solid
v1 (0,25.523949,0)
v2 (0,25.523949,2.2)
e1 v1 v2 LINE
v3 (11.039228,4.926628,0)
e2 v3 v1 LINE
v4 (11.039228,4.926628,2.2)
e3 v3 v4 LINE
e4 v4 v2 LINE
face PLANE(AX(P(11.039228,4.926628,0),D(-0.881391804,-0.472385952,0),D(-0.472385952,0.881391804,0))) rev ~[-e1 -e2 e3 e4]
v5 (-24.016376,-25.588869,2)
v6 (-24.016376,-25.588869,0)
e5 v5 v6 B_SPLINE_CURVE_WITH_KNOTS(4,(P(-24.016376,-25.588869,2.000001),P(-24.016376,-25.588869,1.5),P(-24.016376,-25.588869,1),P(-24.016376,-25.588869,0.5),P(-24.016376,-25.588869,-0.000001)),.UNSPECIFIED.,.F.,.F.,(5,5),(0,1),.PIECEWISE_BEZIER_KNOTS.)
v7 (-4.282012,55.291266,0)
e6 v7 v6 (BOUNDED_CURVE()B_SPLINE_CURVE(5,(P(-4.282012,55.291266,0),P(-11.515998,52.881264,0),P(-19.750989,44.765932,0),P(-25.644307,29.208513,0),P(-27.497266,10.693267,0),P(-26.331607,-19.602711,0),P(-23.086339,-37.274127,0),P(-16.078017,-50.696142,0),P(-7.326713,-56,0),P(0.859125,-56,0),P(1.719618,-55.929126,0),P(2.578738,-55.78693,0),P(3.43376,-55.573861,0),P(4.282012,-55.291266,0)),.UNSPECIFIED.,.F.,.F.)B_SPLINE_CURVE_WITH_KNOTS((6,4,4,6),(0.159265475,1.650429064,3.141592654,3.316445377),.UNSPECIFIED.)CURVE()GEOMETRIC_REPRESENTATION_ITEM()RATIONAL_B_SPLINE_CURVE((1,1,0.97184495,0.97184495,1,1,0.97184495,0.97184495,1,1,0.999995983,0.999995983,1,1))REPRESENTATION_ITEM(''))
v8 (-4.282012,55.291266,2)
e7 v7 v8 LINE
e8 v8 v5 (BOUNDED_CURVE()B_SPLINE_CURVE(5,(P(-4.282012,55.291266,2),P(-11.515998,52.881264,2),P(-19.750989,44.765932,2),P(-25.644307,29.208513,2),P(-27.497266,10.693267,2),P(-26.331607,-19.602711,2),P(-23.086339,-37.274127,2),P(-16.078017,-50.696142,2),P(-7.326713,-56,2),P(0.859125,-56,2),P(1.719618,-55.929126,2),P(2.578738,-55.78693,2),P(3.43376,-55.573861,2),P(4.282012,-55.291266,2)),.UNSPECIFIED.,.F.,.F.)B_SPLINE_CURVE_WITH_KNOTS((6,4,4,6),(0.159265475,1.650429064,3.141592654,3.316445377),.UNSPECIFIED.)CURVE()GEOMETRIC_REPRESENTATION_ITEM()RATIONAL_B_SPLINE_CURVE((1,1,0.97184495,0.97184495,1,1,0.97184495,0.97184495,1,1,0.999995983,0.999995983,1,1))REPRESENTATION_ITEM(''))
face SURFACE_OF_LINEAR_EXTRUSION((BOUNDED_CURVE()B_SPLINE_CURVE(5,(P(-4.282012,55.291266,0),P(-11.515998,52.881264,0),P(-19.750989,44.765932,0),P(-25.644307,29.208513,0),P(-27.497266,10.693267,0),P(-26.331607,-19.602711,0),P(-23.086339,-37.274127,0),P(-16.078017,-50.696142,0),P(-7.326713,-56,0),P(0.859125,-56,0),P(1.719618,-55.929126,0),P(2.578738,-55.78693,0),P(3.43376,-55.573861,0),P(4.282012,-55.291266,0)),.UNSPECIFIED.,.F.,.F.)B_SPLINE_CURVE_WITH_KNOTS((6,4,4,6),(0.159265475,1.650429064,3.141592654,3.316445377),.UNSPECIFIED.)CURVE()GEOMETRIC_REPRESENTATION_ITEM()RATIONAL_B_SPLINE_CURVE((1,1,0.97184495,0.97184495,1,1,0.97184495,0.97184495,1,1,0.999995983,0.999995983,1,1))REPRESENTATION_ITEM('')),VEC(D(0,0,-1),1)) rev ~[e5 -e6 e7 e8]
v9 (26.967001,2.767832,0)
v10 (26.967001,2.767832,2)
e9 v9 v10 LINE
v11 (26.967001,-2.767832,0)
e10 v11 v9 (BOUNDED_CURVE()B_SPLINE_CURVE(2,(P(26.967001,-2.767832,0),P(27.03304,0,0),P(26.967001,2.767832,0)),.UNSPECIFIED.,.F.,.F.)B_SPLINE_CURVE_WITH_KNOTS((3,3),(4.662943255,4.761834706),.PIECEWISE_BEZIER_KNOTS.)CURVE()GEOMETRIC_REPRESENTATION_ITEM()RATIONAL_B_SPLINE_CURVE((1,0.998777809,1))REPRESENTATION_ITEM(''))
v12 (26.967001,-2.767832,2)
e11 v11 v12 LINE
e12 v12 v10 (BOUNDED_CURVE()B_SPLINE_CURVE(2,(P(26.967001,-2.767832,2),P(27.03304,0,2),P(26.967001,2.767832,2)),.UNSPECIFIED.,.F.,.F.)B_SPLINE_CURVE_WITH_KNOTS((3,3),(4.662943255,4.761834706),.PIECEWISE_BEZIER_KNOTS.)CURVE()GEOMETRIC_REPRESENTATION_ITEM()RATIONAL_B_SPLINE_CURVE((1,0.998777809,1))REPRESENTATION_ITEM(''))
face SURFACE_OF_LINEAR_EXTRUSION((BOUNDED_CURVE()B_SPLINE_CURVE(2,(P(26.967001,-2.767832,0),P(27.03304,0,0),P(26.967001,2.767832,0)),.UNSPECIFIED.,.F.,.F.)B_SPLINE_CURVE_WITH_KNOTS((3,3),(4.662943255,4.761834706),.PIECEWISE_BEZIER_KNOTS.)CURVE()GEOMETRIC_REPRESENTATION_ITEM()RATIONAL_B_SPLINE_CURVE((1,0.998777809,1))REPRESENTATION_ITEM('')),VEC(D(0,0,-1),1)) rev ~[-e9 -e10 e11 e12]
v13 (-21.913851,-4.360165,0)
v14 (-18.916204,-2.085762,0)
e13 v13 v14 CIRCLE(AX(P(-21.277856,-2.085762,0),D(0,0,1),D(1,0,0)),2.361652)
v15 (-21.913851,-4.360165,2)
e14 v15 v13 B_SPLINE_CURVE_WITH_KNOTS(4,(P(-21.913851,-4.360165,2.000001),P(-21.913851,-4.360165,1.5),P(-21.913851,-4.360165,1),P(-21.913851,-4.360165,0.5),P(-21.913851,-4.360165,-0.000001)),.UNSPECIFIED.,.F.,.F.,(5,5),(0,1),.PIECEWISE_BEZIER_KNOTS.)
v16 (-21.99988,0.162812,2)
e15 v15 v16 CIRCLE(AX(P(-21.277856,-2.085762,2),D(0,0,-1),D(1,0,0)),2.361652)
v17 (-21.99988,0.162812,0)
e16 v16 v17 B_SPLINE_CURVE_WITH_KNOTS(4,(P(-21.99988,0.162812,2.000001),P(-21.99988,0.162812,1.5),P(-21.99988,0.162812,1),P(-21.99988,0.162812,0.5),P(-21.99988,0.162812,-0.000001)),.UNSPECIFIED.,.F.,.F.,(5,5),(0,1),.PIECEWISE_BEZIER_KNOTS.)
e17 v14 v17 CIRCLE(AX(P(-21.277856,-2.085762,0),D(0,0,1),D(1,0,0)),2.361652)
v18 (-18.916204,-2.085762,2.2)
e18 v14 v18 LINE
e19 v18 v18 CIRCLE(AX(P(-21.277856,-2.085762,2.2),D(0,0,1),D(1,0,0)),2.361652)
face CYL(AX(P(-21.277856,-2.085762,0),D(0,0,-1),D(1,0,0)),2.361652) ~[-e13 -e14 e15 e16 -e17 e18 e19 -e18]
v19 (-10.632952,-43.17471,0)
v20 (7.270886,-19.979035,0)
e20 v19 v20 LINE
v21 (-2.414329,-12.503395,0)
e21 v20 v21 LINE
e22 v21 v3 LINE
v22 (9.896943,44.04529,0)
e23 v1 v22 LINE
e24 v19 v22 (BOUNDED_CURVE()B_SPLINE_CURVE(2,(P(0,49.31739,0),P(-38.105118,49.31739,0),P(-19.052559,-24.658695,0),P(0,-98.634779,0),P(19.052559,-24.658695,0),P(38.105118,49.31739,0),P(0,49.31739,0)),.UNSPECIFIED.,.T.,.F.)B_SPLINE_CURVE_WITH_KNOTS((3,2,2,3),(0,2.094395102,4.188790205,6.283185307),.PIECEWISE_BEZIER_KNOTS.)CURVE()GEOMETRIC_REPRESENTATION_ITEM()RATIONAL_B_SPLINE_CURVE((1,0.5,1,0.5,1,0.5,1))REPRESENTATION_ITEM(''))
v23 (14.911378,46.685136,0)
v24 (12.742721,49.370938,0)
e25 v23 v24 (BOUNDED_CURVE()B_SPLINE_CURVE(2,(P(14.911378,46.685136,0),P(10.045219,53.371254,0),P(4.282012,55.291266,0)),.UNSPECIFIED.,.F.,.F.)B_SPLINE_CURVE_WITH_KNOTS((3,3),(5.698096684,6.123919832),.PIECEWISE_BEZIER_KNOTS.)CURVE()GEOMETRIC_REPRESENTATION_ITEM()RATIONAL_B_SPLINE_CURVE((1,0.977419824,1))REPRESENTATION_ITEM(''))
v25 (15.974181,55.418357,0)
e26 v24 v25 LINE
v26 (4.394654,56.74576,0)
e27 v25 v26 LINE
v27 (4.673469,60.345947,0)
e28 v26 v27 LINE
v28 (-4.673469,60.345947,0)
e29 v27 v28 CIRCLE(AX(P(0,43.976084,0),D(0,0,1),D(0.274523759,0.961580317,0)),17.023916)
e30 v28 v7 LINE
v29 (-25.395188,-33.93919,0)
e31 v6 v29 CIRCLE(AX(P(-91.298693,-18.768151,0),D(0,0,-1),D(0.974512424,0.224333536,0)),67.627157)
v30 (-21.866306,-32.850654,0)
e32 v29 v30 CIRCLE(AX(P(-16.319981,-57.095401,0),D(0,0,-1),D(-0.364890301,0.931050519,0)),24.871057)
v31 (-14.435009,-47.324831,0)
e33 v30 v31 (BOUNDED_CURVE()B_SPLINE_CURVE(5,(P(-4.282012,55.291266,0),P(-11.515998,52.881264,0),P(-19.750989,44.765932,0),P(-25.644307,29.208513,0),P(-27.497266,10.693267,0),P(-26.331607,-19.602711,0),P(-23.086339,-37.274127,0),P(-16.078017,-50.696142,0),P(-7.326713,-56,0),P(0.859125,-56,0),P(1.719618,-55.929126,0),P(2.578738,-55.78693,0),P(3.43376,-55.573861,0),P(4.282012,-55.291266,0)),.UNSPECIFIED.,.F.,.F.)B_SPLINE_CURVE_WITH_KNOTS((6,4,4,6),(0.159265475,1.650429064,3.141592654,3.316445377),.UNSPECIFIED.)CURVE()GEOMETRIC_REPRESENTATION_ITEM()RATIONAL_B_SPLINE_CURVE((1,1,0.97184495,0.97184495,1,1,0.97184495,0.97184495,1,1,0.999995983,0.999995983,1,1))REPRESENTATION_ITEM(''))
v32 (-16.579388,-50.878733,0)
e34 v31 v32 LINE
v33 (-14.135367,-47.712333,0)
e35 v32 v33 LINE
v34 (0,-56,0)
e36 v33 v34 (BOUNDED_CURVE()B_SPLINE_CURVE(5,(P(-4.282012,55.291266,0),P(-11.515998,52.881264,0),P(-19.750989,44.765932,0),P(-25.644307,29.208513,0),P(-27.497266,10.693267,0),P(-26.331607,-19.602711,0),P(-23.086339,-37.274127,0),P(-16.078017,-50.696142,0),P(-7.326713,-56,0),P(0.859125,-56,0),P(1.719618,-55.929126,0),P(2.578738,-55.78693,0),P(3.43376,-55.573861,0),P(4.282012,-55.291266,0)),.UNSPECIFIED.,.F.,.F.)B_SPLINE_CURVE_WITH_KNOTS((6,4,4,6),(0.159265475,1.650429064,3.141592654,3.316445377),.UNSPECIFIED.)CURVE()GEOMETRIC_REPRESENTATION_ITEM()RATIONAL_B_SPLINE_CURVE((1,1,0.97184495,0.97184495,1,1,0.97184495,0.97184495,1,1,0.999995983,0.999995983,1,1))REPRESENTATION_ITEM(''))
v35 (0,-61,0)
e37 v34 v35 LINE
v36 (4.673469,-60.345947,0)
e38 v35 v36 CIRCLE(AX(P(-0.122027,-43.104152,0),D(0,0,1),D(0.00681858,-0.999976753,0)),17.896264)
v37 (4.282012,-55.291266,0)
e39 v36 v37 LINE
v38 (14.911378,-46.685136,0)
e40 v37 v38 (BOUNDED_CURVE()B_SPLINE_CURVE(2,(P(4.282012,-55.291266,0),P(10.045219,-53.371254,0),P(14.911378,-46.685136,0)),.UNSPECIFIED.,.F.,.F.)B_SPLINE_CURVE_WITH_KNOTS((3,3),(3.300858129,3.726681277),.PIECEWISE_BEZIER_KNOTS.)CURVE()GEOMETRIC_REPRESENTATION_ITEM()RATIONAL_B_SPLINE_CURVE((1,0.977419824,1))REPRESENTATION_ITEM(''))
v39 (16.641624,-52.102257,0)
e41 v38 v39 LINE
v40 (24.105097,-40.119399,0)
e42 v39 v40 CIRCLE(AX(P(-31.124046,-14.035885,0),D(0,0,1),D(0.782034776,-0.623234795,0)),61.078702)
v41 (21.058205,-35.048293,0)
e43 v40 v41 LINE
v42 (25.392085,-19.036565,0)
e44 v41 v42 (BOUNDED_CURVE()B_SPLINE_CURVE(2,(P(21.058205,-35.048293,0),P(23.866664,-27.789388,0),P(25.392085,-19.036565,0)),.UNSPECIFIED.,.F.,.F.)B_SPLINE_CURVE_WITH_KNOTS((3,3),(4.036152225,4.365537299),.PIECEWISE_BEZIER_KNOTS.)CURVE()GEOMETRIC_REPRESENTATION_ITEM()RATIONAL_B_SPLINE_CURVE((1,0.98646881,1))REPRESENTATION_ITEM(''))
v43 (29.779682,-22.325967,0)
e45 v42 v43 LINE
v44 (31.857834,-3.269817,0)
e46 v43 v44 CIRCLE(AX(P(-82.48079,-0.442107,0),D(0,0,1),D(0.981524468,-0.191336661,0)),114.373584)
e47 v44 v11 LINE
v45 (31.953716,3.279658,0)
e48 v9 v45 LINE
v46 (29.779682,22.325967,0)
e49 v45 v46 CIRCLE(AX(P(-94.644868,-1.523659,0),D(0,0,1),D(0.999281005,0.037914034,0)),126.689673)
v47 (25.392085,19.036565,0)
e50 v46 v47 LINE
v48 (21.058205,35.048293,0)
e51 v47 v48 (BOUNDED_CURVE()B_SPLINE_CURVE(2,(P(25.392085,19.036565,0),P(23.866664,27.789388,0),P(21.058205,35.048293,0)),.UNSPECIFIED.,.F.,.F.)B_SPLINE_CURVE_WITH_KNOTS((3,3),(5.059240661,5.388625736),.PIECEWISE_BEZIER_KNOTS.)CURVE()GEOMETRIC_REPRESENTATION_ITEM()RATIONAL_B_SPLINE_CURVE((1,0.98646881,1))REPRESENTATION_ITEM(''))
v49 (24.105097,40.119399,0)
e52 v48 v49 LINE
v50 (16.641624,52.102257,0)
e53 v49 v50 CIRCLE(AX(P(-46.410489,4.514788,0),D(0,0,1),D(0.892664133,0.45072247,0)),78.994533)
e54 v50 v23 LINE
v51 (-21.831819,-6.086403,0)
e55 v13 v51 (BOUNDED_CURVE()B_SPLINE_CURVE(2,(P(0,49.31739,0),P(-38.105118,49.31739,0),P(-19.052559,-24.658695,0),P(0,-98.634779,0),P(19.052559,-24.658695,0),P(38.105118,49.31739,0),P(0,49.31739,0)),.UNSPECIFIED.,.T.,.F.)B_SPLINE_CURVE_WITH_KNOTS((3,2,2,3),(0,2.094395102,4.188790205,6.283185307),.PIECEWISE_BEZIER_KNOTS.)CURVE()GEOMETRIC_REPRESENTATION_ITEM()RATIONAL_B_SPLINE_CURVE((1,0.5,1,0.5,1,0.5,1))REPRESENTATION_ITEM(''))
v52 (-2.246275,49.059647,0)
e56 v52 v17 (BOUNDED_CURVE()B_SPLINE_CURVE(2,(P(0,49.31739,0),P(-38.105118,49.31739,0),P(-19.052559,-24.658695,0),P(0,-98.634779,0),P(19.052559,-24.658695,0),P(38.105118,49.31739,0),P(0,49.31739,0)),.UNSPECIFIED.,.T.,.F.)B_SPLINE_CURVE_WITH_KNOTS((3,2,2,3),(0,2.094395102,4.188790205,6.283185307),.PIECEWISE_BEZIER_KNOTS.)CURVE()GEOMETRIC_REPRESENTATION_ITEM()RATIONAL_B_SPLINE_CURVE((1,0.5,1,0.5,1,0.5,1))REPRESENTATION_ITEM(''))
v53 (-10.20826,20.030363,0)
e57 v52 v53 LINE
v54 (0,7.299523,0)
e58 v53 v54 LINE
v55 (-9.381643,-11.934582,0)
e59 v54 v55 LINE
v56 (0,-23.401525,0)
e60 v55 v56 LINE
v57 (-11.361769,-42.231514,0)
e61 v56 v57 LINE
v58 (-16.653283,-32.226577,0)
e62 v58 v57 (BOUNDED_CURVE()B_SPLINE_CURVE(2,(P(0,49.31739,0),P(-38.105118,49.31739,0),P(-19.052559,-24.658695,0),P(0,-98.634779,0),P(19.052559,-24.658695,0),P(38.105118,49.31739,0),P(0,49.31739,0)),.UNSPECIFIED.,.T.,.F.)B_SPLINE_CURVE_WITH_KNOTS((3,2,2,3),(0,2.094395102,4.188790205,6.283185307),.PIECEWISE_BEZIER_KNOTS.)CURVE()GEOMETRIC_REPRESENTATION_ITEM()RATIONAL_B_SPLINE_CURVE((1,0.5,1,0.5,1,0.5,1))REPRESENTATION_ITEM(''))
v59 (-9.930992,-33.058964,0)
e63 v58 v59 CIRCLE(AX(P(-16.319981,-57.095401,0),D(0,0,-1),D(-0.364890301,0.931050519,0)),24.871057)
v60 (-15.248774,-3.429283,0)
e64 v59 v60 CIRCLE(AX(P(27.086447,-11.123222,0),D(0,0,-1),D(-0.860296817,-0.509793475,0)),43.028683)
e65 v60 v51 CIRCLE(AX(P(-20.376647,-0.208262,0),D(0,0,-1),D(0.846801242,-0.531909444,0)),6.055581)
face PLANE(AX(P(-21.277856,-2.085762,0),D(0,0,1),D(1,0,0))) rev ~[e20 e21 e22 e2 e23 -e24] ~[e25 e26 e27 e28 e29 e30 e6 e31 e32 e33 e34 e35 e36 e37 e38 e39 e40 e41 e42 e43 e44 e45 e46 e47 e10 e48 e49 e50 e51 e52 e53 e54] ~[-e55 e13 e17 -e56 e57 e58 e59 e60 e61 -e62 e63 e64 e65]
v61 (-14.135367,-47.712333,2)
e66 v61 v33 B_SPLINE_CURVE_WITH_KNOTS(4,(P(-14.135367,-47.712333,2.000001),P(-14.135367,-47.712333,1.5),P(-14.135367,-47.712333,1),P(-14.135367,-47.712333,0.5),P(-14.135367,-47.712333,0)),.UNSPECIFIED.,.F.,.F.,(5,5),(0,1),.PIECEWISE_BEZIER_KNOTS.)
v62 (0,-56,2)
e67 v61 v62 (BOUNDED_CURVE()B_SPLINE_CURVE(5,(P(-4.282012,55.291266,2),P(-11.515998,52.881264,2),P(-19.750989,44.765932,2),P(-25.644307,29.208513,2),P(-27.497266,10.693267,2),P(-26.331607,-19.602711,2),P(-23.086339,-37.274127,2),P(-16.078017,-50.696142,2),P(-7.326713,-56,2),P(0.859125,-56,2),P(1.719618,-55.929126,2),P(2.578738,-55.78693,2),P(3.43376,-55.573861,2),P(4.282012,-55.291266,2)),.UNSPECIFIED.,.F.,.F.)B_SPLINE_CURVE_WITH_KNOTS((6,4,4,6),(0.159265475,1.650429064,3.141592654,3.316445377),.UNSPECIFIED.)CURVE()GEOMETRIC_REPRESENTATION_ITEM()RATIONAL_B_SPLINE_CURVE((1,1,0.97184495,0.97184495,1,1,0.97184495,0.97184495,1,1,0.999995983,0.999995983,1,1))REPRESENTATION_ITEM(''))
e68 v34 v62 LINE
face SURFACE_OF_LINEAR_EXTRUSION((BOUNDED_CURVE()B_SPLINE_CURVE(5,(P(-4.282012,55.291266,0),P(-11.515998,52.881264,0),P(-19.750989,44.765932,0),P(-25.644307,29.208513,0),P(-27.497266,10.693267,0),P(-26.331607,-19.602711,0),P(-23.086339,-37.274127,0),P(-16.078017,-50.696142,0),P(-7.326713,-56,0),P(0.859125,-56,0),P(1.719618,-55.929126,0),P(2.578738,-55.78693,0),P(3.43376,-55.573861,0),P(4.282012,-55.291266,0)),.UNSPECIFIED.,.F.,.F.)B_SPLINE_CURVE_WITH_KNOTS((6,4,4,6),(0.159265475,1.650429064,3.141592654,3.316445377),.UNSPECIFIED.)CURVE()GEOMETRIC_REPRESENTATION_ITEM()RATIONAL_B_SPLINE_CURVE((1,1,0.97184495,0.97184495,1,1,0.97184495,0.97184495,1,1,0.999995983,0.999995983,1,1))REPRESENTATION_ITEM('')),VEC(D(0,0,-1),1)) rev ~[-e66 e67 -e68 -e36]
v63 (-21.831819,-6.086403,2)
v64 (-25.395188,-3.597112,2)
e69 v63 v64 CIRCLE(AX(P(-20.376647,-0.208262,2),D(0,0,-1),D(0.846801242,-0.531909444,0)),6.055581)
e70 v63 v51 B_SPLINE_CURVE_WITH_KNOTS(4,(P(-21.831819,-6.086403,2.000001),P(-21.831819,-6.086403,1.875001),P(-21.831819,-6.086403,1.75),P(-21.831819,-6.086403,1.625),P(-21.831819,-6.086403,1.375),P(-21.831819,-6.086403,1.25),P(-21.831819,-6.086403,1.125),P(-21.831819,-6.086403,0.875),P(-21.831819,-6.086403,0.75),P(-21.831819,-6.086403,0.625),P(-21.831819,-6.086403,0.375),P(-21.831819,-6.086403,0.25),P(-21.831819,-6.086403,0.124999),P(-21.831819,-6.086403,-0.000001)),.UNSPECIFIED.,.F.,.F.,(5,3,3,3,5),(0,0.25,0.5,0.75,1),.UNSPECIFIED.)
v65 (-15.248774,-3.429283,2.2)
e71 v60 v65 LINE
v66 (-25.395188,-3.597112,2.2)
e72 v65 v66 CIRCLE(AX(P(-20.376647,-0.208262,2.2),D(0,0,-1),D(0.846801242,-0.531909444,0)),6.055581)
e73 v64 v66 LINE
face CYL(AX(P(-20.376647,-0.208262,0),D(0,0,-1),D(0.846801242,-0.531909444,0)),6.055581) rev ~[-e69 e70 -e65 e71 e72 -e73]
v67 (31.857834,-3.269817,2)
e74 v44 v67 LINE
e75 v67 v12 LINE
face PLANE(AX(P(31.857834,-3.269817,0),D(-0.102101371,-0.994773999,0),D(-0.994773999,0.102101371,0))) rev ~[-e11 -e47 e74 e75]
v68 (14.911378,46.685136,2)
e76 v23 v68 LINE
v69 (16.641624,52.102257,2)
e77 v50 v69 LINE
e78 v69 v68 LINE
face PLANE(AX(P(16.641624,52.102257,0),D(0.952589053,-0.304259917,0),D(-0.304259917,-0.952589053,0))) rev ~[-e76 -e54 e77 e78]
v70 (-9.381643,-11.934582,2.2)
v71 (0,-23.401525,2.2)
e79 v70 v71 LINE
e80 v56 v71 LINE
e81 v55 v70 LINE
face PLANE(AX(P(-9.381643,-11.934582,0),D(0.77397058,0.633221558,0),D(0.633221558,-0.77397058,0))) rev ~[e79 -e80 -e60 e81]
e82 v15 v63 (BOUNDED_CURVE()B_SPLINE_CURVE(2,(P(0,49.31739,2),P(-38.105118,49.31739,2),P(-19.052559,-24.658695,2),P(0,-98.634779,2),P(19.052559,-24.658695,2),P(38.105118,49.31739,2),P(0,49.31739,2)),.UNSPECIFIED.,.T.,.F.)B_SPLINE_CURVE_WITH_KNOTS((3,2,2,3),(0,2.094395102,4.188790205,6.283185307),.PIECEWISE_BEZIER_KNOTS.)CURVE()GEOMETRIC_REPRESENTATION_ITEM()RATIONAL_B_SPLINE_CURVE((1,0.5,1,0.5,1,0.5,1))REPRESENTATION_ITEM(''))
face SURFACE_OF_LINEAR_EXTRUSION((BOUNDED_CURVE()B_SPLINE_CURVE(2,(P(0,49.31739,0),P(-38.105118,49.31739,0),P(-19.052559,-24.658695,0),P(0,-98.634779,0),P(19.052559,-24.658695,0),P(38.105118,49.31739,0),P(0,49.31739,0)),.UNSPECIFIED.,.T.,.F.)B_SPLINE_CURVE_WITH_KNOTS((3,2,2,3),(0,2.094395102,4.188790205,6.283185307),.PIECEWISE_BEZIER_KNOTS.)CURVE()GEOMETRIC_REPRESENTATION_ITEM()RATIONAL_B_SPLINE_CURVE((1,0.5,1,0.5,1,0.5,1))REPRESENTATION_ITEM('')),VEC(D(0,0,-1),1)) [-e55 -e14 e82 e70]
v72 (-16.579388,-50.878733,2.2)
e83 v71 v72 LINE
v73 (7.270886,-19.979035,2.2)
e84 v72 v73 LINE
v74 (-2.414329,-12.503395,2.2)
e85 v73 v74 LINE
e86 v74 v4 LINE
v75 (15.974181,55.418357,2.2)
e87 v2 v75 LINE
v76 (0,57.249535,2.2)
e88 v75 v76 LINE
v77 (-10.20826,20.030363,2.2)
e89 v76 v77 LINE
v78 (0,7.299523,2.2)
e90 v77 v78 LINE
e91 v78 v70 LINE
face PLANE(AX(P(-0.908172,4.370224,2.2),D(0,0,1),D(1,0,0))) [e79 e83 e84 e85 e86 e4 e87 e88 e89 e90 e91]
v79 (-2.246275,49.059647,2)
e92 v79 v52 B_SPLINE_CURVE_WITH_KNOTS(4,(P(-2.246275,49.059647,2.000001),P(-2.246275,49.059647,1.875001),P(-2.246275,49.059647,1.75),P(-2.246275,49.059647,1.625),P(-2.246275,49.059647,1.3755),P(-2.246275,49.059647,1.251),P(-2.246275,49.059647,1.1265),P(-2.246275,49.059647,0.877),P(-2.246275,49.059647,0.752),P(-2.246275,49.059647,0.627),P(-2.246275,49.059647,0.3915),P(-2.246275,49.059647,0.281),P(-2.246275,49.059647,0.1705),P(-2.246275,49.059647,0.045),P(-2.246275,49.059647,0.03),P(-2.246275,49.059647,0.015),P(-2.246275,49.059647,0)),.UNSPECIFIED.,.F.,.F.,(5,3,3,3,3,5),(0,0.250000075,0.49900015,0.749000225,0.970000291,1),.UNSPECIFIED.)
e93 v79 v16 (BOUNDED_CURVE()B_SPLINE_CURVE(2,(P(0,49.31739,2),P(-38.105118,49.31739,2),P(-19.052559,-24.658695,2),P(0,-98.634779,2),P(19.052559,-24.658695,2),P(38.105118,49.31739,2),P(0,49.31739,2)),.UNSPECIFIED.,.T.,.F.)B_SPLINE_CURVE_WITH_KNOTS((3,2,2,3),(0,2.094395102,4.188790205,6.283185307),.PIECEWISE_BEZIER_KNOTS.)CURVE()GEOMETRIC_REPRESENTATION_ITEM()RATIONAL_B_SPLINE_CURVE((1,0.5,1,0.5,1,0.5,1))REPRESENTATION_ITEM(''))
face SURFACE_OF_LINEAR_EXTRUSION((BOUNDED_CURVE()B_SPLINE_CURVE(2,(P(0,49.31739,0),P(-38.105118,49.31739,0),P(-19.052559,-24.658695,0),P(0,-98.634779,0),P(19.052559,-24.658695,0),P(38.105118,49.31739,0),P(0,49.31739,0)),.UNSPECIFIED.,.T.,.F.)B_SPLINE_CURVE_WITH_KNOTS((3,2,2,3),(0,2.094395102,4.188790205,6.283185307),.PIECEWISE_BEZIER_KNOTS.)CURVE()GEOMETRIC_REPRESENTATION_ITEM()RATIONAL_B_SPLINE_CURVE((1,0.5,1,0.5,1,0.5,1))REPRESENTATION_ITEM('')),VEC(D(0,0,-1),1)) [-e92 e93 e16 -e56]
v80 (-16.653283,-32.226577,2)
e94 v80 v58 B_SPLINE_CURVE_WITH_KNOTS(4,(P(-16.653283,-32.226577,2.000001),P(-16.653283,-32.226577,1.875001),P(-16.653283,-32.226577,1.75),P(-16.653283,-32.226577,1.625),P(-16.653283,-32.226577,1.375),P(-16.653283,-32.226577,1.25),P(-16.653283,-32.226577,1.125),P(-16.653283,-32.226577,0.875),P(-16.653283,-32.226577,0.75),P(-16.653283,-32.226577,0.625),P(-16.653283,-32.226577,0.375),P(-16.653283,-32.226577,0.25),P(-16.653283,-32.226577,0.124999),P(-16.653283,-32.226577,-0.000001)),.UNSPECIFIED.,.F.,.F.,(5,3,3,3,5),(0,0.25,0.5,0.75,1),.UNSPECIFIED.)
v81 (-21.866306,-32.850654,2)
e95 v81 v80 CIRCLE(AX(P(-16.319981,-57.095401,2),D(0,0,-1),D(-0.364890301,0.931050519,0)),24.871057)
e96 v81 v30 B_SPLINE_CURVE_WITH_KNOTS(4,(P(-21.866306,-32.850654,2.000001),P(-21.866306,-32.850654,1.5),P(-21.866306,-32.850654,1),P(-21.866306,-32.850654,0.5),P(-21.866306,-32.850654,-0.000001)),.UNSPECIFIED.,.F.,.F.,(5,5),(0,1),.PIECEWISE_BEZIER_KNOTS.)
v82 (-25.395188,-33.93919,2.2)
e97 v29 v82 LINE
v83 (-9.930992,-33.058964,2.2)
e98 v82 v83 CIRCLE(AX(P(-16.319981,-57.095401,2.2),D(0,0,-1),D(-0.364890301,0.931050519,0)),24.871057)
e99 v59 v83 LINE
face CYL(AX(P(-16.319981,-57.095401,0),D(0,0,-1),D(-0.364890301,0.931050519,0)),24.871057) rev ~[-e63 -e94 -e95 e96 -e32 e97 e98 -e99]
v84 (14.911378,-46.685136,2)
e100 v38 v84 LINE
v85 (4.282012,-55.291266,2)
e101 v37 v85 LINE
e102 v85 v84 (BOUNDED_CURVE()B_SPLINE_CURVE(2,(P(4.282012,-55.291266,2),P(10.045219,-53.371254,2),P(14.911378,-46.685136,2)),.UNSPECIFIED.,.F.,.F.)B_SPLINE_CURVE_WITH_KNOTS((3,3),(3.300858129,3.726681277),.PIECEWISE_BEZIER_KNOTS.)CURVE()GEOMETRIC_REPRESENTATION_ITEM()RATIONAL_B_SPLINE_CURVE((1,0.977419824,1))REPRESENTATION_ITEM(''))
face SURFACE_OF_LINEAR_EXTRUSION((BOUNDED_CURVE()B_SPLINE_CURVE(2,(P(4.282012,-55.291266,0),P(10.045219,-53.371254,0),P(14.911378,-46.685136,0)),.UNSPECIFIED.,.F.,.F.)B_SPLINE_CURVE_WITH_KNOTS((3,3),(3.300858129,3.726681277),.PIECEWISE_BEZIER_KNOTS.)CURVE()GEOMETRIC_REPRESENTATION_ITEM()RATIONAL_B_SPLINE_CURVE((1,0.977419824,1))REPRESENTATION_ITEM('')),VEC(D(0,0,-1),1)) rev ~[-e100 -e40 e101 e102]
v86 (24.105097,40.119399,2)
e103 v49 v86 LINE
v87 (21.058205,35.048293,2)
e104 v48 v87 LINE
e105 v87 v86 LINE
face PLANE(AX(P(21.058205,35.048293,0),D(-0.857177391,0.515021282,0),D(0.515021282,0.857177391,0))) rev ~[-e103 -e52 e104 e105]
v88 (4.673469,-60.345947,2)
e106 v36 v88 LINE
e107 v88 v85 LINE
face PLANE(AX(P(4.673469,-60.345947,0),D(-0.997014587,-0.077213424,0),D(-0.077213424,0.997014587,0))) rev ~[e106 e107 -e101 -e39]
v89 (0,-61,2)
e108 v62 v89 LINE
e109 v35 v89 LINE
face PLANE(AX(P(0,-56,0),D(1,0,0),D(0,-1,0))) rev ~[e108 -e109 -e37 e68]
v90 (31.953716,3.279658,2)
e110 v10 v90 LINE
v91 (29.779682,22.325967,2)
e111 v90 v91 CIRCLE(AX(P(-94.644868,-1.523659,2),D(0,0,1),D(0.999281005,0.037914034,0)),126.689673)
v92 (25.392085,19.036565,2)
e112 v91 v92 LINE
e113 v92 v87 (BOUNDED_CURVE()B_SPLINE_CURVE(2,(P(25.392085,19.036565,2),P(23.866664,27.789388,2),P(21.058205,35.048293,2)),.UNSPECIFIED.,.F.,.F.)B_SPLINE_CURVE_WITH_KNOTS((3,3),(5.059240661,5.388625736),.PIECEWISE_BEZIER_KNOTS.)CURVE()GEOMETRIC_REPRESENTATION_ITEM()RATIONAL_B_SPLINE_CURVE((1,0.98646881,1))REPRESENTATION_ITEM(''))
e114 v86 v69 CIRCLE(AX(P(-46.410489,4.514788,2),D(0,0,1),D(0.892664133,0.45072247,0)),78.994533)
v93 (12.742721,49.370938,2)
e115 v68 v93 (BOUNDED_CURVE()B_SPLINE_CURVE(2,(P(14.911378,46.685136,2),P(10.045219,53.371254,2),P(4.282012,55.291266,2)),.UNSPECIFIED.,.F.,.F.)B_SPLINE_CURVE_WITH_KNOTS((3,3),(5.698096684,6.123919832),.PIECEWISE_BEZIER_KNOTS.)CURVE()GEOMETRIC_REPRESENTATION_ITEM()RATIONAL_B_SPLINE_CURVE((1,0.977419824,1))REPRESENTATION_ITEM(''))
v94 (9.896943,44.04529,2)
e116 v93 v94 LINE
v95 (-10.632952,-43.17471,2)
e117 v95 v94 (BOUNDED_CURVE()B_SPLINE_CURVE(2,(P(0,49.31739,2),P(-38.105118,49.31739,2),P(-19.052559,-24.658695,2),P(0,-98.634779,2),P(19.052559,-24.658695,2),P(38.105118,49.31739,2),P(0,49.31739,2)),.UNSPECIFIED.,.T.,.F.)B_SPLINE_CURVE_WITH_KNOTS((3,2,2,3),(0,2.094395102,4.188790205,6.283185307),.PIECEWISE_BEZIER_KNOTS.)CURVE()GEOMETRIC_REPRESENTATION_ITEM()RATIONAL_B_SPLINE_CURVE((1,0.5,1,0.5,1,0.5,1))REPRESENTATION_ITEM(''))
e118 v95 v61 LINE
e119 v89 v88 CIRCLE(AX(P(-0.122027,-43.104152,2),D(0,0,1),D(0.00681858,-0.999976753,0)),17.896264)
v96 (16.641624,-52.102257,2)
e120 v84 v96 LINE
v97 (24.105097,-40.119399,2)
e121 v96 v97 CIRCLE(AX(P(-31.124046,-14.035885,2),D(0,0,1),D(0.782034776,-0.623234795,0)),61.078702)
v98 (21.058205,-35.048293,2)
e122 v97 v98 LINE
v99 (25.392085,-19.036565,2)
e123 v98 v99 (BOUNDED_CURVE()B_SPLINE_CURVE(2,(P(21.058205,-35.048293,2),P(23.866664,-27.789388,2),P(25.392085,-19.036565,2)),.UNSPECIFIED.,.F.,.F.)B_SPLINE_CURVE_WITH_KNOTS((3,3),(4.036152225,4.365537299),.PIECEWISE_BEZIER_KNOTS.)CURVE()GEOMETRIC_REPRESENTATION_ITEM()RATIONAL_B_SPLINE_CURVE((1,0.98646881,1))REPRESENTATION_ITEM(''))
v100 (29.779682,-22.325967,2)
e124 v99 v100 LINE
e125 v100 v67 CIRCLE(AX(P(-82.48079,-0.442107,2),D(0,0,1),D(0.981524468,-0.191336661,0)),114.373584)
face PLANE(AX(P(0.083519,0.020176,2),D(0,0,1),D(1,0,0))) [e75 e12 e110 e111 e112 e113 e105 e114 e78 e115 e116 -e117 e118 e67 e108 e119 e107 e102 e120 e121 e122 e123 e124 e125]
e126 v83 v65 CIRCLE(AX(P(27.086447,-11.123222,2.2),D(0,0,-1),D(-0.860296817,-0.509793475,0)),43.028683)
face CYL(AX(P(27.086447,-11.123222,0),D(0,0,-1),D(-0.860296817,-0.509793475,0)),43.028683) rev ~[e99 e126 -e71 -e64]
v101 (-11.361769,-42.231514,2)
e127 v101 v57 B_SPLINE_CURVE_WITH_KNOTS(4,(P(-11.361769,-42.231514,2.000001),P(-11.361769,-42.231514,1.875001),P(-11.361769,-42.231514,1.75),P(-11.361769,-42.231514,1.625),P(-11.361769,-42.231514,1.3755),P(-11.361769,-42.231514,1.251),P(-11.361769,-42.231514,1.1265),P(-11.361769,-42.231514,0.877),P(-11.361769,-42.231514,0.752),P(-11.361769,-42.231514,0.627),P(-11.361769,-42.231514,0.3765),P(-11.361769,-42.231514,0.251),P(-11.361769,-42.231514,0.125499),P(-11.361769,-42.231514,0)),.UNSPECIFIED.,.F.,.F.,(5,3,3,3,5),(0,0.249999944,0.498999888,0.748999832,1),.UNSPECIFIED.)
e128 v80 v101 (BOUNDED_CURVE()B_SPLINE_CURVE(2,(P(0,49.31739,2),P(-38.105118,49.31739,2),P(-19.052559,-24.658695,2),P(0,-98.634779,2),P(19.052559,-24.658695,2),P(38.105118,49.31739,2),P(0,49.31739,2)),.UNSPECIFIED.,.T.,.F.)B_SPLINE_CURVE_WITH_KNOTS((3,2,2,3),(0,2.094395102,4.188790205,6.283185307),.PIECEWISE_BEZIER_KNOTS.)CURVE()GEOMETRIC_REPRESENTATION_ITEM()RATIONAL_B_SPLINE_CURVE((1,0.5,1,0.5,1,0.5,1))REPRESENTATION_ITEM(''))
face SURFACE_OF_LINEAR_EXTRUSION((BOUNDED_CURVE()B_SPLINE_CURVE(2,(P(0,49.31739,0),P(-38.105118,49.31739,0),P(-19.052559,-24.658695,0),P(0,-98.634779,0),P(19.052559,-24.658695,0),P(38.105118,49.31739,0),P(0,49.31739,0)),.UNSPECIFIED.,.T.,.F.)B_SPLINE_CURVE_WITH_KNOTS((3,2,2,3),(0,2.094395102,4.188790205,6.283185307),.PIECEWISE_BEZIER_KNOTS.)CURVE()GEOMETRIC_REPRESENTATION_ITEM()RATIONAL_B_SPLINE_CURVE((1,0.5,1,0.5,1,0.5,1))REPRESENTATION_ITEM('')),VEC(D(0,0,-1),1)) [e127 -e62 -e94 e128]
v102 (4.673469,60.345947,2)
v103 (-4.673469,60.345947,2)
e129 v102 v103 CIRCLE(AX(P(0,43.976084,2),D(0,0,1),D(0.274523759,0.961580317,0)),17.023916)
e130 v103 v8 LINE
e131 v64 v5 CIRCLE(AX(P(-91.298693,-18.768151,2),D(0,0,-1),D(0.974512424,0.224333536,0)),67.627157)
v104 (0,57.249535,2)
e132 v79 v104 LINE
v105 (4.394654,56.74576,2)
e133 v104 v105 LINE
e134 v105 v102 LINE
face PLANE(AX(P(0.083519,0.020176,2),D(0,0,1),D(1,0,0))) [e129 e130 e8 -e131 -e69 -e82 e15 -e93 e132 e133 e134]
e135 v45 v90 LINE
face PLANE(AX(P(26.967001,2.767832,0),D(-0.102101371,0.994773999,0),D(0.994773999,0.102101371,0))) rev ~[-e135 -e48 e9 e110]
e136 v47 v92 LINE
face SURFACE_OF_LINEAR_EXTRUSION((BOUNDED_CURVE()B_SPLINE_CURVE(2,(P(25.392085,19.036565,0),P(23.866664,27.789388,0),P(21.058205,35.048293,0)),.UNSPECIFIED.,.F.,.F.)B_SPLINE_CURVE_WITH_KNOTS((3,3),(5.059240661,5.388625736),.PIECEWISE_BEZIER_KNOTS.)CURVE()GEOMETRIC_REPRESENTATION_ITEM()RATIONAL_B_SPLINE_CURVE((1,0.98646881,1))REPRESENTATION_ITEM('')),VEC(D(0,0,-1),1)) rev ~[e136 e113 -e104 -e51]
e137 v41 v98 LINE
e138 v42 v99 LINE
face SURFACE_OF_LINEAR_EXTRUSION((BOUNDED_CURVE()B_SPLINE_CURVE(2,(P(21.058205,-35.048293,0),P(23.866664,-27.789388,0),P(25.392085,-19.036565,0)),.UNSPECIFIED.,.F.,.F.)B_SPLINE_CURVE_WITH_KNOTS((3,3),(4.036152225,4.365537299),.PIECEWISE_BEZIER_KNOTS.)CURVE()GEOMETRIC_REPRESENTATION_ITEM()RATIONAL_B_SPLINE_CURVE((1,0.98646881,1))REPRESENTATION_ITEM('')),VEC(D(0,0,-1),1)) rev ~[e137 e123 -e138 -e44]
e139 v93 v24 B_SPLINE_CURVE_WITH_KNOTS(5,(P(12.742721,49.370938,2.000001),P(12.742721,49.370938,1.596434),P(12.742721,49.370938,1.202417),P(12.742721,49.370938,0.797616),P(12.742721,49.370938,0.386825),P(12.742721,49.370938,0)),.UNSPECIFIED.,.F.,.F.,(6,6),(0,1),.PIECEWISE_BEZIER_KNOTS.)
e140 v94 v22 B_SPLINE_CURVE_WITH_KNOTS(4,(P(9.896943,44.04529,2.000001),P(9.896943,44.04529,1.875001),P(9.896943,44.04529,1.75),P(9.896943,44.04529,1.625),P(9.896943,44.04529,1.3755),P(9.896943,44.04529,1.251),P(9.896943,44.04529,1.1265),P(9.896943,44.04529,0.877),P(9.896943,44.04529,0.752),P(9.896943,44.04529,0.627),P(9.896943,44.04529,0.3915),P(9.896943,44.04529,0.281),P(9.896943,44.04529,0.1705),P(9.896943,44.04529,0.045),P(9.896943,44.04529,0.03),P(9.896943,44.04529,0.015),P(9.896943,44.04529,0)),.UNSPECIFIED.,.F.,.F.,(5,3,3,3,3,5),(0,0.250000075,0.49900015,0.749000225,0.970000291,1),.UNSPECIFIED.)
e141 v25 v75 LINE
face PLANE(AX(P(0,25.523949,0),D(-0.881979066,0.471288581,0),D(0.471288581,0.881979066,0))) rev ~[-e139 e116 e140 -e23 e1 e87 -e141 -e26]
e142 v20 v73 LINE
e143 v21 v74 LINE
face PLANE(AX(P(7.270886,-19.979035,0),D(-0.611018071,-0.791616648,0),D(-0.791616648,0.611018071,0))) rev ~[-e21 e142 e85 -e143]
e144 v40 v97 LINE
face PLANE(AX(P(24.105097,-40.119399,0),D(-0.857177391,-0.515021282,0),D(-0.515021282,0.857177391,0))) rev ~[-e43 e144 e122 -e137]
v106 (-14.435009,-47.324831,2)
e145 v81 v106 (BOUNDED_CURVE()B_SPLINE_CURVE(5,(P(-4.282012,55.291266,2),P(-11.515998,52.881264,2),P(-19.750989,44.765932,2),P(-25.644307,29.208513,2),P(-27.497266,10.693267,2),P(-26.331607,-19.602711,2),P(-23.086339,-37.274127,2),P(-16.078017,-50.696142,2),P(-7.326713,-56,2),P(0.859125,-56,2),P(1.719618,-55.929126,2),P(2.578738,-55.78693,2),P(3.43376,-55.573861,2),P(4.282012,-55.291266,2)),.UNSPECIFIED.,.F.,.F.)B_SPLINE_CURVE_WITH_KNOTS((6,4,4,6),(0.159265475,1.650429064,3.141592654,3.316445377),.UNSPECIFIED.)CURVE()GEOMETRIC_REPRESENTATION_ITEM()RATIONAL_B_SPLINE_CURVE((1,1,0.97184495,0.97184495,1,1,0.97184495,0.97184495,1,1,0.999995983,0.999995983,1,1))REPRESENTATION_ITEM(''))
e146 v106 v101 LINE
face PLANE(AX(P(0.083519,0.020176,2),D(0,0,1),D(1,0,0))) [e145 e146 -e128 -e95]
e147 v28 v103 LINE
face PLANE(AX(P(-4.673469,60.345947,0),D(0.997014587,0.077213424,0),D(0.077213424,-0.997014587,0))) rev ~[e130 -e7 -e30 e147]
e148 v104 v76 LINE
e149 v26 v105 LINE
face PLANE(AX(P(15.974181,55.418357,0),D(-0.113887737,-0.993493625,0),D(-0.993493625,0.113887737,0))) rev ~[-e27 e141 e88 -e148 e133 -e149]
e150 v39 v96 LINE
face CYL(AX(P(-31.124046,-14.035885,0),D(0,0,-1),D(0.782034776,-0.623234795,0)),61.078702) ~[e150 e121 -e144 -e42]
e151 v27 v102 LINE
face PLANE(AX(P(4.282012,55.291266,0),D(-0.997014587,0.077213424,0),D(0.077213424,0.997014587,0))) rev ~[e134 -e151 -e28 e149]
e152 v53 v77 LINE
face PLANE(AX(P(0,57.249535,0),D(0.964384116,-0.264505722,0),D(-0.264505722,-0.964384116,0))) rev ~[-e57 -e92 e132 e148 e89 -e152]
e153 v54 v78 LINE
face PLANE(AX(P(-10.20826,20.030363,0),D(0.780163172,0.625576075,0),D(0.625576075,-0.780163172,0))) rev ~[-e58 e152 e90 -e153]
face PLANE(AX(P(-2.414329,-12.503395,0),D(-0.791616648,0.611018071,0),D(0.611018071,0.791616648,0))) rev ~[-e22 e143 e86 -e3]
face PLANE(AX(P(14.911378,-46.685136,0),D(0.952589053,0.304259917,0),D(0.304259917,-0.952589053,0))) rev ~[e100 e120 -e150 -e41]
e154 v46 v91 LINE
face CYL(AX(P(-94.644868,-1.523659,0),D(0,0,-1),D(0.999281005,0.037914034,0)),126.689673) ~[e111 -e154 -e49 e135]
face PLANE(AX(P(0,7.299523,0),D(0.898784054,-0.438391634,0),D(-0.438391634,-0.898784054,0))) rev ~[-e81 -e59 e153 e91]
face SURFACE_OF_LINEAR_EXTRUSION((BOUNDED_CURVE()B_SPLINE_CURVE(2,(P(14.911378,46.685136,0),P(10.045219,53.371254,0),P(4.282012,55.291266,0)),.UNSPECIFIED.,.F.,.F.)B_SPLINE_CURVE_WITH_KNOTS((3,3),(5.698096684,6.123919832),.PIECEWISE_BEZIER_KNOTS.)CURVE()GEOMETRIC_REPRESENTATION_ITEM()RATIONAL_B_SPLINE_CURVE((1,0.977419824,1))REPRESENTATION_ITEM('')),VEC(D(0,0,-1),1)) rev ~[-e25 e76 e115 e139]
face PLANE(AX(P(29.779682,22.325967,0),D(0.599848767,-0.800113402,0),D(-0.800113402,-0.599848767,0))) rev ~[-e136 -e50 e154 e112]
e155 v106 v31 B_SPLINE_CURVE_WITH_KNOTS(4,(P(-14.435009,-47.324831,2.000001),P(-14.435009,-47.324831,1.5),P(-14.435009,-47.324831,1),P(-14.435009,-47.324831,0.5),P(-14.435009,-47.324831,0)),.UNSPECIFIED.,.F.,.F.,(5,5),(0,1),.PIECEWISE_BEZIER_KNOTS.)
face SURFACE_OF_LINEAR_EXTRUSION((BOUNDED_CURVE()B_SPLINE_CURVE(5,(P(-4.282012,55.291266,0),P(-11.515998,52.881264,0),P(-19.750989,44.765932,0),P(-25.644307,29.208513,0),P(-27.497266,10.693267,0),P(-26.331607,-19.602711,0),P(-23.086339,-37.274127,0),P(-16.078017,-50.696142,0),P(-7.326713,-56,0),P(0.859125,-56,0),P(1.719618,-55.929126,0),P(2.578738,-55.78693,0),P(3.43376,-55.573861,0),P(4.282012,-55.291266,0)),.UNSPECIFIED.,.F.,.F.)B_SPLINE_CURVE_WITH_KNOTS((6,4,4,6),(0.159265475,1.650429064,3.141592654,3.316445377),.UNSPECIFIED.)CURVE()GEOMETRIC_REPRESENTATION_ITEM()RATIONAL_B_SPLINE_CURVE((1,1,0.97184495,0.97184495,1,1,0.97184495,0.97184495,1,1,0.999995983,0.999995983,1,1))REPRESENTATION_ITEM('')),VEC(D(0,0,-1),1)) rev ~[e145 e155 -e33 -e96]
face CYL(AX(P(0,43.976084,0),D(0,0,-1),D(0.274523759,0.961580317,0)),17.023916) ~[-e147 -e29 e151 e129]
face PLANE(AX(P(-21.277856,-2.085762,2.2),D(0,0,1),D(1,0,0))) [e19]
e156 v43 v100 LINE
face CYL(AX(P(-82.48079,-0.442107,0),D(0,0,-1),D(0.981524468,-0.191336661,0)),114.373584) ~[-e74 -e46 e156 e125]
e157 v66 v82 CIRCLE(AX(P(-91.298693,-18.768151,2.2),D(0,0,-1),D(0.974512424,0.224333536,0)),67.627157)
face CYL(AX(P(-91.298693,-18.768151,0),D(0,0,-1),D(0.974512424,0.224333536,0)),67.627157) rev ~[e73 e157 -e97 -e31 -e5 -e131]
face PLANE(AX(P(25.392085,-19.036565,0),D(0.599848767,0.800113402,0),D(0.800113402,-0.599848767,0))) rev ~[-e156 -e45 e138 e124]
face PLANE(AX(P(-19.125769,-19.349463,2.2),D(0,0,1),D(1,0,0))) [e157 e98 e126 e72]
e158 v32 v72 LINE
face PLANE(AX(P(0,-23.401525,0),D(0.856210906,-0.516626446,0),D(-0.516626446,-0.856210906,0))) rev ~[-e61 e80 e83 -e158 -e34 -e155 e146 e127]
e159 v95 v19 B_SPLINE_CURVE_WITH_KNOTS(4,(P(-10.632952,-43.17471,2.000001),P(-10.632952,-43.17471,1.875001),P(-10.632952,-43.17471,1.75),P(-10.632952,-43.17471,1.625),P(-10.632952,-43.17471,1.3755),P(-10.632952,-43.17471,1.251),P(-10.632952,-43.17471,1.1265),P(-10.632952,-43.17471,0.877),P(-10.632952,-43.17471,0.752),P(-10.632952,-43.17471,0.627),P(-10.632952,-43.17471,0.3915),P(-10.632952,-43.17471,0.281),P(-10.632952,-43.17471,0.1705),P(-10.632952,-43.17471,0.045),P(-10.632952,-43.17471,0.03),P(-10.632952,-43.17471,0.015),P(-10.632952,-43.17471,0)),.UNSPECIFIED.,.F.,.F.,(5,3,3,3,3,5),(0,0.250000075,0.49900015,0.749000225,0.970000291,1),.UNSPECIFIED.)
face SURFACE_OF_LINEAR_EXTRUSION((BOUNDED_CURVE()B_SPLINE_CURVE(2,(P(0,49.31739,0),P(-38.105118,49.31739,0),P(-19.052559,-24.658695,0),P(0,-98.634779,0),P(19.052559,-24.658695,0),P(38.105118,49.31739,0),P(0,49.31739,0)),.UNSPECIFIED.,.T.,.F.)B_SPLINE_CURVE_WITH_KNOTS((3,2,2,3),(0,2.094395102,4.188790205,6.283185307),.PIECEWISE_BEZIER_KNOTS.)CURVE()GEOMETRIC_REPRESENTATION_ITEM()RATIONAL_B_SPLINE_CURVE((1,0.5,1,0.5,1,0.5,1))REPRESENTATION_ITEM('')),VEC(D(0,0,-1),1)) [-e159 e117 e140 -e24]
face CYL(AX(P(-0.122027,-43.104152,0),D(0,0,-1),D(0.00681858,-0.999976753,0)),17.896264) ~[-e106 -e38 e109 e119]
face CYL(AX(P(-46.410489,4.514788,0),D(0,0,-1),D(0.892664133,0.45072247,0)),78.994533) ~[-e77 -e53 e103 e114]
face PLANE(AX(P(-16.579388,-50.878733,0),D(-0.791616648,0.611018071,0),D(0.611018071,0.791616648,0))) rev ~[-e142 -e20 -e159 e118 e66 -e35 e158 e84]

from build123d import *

# Parameters (mm, degrees)
F1_DEPTH = 2
F3_DEPTH = 2.2
F5_DEPTH = 2.2
F6_R     = 2.3616524039
F7_DEPTH = 2.2


with BuildPart() as f1:
    # F0 (on Top) → F1 (new body)
    with BuildSketch(Plane.XY):
        with BuildLine():
            add(Edge.make_bspline(
                [(4.2820115549, 55.2912662544), (2.1546402979, 56), (0, 56)],
                knots=[6.1239198322, 6.1239198322, 6.1239198322, 6.2831853072, 6.2831853072, 6.2831853072], degree=2, weights=[1, 0.9968309887, 1]))
            add(Edge.make_bspline(
                [(0, 56), (-2.1546402979, 56), (-4.2820115549, 55.2912662544)],
                knots=[0, 0, 0, 0.159265475, 0.159265475, 0.159265475], degree=2, weights=[1, 0.9968309887, 1]))
            add(Edge.make_bspline(
                [(-4.2820115549, 55.2912662544), (-28.8976783734, 47.0905567232), (-26.9144366962, -4.4547216384), (-24.931195019, -56), (0, -56)],
                knots=[0.159265475, 0.159265475, 0.159265475, 1.6504290643, 1.6504290643, 3.1415926536, 3.1415926536, 3.1415926536], degree=2, weights=[1, 0.7346933376, 1, 0.7346933376, 1]))
            add(Edge.make_bspline(
                [(0, -56), (2.1546402979, -56), (4.2820115549, -55.2912662544)],
                knots=[3.1415926536, 3.1415926536, 3.1415926536, 3.3008581286, 3.3008581286, 3.3008581286], degree=2, weights=[1, 0.9968309887, 1]))
            add(Edge.make_bspline(
                [(4.2820115549, -55.2912662544), (10.0452188041, -53.3712537288), (14.9113782006, -46.6851361055)],
                knots=[3.3008581286, 3.3008581286, 3.3008581286, 3.7266812771, 3.7266812771, 3.7266812771], degree=2, weights=[1, 0.9774198236, 1]))
            add(Edge.make_bspline(
                [(14.9113782006, -46.6851361055), (18.4223704023, -41.8610222774), (21.0582047409, -35.0482934124)],
                knots=[3.7266812771, 3.7266812771, 3.7266812771, 4.0361522247, 4.0361522247, 4.0361522247], degree=2, weights=[1, 0.9880523338, 1]))
            add(Edge.make_bspline(
                [(21.0582047409, -35.0482934124), (23.8666639687, -27.7893883413), (25.3920853965, -19.0365654052)],
                knots=[4.0361522247, 4.0361522247, 4.0361522247, 4.3655372994, 4.3655372994, 4.3655372994], degree=2, weights=[1, 0.9864688102, 1]))
            add(Edge.make_bspline(
                [(25.3920853965, -19.0365654052), (26.7670823669, -11.1468735466), (26.9670008476, -2.767832451)],
                knots=[4.3655372994, 4.3655372994, 4.3655372994, 4.6629432552, 4.6629432552, 4.6629432552], degree=2, weights=[1, 0.9889640708, 1]))
            add(Edge.make_bspline(
                [(26.9670008476, -2.767832451), (27.033039533, 0), (26.9670008476, 2.767832451)],
                knots=[4.6629432552, 4.6629432552, 4.6629432552, 4.7618347055, 4.7618347055, 4.7618347055], degree=2, weights=[1, 0.9987778092, 1]))
            add(Edge.make_bspline(
                [(26.9670008476, 2.767832451), (26.7670823669, 11.1468735466), (25.3920853965, 19.0365654052)],
                knots=[4.7618347055, 4.7618347055, 4.7618347055, 5.0592406613, 5.0592406613, 5.0592406613], degree=2, weights=[1, 0.9889640708, 1]))
            add(Edge.make_bspline(
                [(25.3920853965, 19.0365654052), (23.8666639687, 27.7893883413), (21.0582047409, 35.0482934124)],
                knots=[5.0592406613, 5.0592406613, 5.0592406613, 5.3886257361, 5.3886257361, 5.3886257361], degree=2, weights=[1, 0.9864688102, 1]))
            add(Edge.make_bspline(
                [(21.0582047409, 35.0482934124), (18.4223704023, 41.8610222774), (14.9113782006, 46.6851361055)],
                knots=[5.3886257361, 5.3886257361, 5.3886257361, 5.6980966836, 5.6980966836, 5.6980966836], degree=2, weights=[1, 0.9880523338, 1]))
            add(Edge.make_bspline(
                [(14.9113782006, 46.6851361055), (10.0452188041, 53.3712537288), (4.2820115549, 55.2912662544)],
                knots=[5.6980966836, 5.6980966836, 5.6980966836, 6.1239198322, 6.1239198322, 6.1239198322], degree=2, weights=[1, 0.9774198236, 1]))
        make_face()
        with BuildLine():
            add(Edge.make_bspline(
                [(0, 49.3173897266), (-38.1051177665, 49.3173897266), (-19.0525588833, -24.6586948633), (0, -98.6347794533), (19.0525588833, -24.6586948633), (38.1051177665, 49.3173897266), (0, 49.3173897266)],
                knots=[0, 0, 0, 2.0943951024, 2.0943951024, 4.1887902048, 4.1887902048, 6.2831853072, 6.2831853072, 6.2831853072], degree=2, weights=[1, 0.5, 1, 0.5, 1, 0.5, 1]))
        make_face(mode=Mode.SUBTRACT)
        with BuildLine():
            add(Edge.make_bspline(
                [(0, -56), (2.1546402979, -56), (4.2820115549, -55.2912662544)],
                knots=[3.1415926536, 3.1415926536, 3.1415926536, 3.3008581286, 3.3008581286, 3.3008581286], degree=2, weights=[1, 0.9968309887, 1]))
            Line((0, -56), (0, -61))
            ThreePointArc((0, -61), (2.3583873908, -60.8276903053), (4.6734693903, -60.345946544))
            Line((4.6734693903, -60.345946544), (4.2820115549, -55.2912662544))
        make_face()
        with BuildLine():
            add(Edge.make_bspline(
                [(14.9113782006, -46.6851361055), (18.4223704023, -41.8610222774), (21.0582047409, -35.0482934124)],
                knots=[3.7266812771, 3.7266812771, 3.7266812771, 4.0361522247, 4.0361522247, 4.0361522247], degree=2, weights=[1, 0.9880523338, 1]))
            Line((14.9113782006, -46.6851361055), (16.6416236785, -52.1022574839))
            ThreePointArc((16.6416236785, -52.1022574839), (20.7207231207, -46.3271815431), (24.1050969797, -40.1193986891))
            Line((24.1050969797, -40.1193986891), (21.0582047409, -35.0482934124))
        make_face()
        with BuildLine():
            add(Edge.make_bspline(
                [(25.3920853965, -19.0365654052), (26.7670823669, -11.1468735466), (26.9670008476, -2.767832451)],
                knots=[4.3655372994, 4.3655372994, 4.3655372994, 4.6629432552, 4.6629432552, 4.6629432552], degree=2, weights=[1, 0.9889640708, 1]))
            Line((25.3920853965, -19.0365654052), (29.7796819968, -22.3259671361))
            ThreePointArc((29.7796819968, -22.3259671361), (31.2186902192, -12.8415061265), (31.8578340598, -3.2698165965))
            Line((31.8578340598, -3.2698165965), (26.9670008476, -2.767832451))
        make_face()
        with BuildLine():
            Line((29.7796819968, 22.3259671361), (25.3920853965, 19.0365654052))
            add(Edge.make_bspline(
                [(26.9670008476, 2.767832451), (26.7670823669, 11.1468735466), (25.3920853965, 19.0365654052)],
                knots=[4.7618347055, 4.7618347055, 4.7618347055, 5.0592406613, 5.0592406613, 5.0592406613], degree=2, weights=[1, 0.9889640708, 1]))
            Line((26.9670008476, 2.767832451), (31.9537159303, 3.2796576965))
            ThreePointArc((31.9537159303, 3.2796576965), (31.2274638186, 12.843991787), (29.7796819968, 22.3259671361))
        make_face()
        with BuildLine():
            Line((16.6416236785, 52.1022574839), (14.9113782006, 46.6851361055))
            add(Edge.make_bspline(
                [(21.0582047409, 35.0482934124), (18.4223704023, 41.8610222774), (14.9113782006, 46.6851361055)],
                knots=[5.3886257361, 5.3886257361, 5.3886257361, 5.6980966836, 5.6980966836, 5.6980966836], degree=2, weights=[1, 0.9880523338, 1]))
            Line((21.0582047409, 35.0482934124), (24.1050969797, 40.1193986891))
            ThreePointArc((24.1050969797, 40.1193986891), (20.6415785097, 46.2778866544), (16.6416236785, 52.1022574839))
        make_face()
        with BuildLine():
            add(Edge.make_bspline(
                [(0, 56), (-2.1546402979, 56), (-4.2820115549, 55.2912662544)],
                knots=[0, 0, 0, 0.159265475, 0.159265475, 0.159265475], degree=2, weights=[1, 0.9968309887, 1]))
            add(Edge.make_bspline(
                [(4.2820115549, 55.2912662544), (2.1546402979, 56), (0, 56)],
                knots=[6.1239198322, 6.1239198322, 6.1239198322, 6.2831853072, 6.2831853072, 6.2831853072], degree=2, weights=[1, 0.9968309887, 1]))
            Line((4.2820115549, 55.2912662544), (4.6734693903, 60.345946544))
            ThreePointArc((4.6734693903, 60.345946544), (0, 61), (-4.6734693903, 60.345946544))
            Line((-4.6734693903, 60.345946544), (-4.2820115549, 55.2912662544))
        make_face()
    extrude(amount=F1_DEPTH)

    # F2 (on Top) → F3 (join)
    with BuildSketch(Plane.XY):
        Polygon((15.9741807729, 55.4183572531), (0, 57.2495348752), (-10.208260268, 20.0303625315), (0, 7.2995228693), (-9.3816425651, -11.934582144), (0, -23.4015248716), (-16.5793877095, -50.8787333965), (7.2708860971, -19.9790354818), (-2.4143287039, -12.5033952501), (11.0392279875, 4.9266284475), (0, 25.5239494145), align=None)
    extrude(amount=F3_DEPTH)

    # F4 (on Top) → F5 (join)
    with BuildSketch(Plane.XY):
        with BuildLine():
            ThreePointArc((-15.2487736195, -3.4292829223), (-20.2764970946, -6.2630149339), (-25.3951884806, -3.5971119069))
            ThreePointArc((-25.3951884806, -3.5971119069), (-23.6715361959, -18.7681510579), (-25.3951884806, -33.9391902089))
            ThreePointArc((-25.3951884806, -33.9391902089), (-17.7333609068, -32.264536184), (-9.930992499, -33.058963716))
            ThreePointArc((-9.930992499, -33.058963716), (-15.2655383761, -18.7243360298), (-15.2487736195, -3.4292829223))
        make_face()
    extrude(amount=F5_DEPTH)

    # F6 (on Top) → F7 (join)
    with BuildSketch(Plane.XY):
        with Locations((-21.2778560817, -2.0857616328)):
            Circle(F6_R)
    extrude(amount=F7_DEPTH)


solid = f1.part
